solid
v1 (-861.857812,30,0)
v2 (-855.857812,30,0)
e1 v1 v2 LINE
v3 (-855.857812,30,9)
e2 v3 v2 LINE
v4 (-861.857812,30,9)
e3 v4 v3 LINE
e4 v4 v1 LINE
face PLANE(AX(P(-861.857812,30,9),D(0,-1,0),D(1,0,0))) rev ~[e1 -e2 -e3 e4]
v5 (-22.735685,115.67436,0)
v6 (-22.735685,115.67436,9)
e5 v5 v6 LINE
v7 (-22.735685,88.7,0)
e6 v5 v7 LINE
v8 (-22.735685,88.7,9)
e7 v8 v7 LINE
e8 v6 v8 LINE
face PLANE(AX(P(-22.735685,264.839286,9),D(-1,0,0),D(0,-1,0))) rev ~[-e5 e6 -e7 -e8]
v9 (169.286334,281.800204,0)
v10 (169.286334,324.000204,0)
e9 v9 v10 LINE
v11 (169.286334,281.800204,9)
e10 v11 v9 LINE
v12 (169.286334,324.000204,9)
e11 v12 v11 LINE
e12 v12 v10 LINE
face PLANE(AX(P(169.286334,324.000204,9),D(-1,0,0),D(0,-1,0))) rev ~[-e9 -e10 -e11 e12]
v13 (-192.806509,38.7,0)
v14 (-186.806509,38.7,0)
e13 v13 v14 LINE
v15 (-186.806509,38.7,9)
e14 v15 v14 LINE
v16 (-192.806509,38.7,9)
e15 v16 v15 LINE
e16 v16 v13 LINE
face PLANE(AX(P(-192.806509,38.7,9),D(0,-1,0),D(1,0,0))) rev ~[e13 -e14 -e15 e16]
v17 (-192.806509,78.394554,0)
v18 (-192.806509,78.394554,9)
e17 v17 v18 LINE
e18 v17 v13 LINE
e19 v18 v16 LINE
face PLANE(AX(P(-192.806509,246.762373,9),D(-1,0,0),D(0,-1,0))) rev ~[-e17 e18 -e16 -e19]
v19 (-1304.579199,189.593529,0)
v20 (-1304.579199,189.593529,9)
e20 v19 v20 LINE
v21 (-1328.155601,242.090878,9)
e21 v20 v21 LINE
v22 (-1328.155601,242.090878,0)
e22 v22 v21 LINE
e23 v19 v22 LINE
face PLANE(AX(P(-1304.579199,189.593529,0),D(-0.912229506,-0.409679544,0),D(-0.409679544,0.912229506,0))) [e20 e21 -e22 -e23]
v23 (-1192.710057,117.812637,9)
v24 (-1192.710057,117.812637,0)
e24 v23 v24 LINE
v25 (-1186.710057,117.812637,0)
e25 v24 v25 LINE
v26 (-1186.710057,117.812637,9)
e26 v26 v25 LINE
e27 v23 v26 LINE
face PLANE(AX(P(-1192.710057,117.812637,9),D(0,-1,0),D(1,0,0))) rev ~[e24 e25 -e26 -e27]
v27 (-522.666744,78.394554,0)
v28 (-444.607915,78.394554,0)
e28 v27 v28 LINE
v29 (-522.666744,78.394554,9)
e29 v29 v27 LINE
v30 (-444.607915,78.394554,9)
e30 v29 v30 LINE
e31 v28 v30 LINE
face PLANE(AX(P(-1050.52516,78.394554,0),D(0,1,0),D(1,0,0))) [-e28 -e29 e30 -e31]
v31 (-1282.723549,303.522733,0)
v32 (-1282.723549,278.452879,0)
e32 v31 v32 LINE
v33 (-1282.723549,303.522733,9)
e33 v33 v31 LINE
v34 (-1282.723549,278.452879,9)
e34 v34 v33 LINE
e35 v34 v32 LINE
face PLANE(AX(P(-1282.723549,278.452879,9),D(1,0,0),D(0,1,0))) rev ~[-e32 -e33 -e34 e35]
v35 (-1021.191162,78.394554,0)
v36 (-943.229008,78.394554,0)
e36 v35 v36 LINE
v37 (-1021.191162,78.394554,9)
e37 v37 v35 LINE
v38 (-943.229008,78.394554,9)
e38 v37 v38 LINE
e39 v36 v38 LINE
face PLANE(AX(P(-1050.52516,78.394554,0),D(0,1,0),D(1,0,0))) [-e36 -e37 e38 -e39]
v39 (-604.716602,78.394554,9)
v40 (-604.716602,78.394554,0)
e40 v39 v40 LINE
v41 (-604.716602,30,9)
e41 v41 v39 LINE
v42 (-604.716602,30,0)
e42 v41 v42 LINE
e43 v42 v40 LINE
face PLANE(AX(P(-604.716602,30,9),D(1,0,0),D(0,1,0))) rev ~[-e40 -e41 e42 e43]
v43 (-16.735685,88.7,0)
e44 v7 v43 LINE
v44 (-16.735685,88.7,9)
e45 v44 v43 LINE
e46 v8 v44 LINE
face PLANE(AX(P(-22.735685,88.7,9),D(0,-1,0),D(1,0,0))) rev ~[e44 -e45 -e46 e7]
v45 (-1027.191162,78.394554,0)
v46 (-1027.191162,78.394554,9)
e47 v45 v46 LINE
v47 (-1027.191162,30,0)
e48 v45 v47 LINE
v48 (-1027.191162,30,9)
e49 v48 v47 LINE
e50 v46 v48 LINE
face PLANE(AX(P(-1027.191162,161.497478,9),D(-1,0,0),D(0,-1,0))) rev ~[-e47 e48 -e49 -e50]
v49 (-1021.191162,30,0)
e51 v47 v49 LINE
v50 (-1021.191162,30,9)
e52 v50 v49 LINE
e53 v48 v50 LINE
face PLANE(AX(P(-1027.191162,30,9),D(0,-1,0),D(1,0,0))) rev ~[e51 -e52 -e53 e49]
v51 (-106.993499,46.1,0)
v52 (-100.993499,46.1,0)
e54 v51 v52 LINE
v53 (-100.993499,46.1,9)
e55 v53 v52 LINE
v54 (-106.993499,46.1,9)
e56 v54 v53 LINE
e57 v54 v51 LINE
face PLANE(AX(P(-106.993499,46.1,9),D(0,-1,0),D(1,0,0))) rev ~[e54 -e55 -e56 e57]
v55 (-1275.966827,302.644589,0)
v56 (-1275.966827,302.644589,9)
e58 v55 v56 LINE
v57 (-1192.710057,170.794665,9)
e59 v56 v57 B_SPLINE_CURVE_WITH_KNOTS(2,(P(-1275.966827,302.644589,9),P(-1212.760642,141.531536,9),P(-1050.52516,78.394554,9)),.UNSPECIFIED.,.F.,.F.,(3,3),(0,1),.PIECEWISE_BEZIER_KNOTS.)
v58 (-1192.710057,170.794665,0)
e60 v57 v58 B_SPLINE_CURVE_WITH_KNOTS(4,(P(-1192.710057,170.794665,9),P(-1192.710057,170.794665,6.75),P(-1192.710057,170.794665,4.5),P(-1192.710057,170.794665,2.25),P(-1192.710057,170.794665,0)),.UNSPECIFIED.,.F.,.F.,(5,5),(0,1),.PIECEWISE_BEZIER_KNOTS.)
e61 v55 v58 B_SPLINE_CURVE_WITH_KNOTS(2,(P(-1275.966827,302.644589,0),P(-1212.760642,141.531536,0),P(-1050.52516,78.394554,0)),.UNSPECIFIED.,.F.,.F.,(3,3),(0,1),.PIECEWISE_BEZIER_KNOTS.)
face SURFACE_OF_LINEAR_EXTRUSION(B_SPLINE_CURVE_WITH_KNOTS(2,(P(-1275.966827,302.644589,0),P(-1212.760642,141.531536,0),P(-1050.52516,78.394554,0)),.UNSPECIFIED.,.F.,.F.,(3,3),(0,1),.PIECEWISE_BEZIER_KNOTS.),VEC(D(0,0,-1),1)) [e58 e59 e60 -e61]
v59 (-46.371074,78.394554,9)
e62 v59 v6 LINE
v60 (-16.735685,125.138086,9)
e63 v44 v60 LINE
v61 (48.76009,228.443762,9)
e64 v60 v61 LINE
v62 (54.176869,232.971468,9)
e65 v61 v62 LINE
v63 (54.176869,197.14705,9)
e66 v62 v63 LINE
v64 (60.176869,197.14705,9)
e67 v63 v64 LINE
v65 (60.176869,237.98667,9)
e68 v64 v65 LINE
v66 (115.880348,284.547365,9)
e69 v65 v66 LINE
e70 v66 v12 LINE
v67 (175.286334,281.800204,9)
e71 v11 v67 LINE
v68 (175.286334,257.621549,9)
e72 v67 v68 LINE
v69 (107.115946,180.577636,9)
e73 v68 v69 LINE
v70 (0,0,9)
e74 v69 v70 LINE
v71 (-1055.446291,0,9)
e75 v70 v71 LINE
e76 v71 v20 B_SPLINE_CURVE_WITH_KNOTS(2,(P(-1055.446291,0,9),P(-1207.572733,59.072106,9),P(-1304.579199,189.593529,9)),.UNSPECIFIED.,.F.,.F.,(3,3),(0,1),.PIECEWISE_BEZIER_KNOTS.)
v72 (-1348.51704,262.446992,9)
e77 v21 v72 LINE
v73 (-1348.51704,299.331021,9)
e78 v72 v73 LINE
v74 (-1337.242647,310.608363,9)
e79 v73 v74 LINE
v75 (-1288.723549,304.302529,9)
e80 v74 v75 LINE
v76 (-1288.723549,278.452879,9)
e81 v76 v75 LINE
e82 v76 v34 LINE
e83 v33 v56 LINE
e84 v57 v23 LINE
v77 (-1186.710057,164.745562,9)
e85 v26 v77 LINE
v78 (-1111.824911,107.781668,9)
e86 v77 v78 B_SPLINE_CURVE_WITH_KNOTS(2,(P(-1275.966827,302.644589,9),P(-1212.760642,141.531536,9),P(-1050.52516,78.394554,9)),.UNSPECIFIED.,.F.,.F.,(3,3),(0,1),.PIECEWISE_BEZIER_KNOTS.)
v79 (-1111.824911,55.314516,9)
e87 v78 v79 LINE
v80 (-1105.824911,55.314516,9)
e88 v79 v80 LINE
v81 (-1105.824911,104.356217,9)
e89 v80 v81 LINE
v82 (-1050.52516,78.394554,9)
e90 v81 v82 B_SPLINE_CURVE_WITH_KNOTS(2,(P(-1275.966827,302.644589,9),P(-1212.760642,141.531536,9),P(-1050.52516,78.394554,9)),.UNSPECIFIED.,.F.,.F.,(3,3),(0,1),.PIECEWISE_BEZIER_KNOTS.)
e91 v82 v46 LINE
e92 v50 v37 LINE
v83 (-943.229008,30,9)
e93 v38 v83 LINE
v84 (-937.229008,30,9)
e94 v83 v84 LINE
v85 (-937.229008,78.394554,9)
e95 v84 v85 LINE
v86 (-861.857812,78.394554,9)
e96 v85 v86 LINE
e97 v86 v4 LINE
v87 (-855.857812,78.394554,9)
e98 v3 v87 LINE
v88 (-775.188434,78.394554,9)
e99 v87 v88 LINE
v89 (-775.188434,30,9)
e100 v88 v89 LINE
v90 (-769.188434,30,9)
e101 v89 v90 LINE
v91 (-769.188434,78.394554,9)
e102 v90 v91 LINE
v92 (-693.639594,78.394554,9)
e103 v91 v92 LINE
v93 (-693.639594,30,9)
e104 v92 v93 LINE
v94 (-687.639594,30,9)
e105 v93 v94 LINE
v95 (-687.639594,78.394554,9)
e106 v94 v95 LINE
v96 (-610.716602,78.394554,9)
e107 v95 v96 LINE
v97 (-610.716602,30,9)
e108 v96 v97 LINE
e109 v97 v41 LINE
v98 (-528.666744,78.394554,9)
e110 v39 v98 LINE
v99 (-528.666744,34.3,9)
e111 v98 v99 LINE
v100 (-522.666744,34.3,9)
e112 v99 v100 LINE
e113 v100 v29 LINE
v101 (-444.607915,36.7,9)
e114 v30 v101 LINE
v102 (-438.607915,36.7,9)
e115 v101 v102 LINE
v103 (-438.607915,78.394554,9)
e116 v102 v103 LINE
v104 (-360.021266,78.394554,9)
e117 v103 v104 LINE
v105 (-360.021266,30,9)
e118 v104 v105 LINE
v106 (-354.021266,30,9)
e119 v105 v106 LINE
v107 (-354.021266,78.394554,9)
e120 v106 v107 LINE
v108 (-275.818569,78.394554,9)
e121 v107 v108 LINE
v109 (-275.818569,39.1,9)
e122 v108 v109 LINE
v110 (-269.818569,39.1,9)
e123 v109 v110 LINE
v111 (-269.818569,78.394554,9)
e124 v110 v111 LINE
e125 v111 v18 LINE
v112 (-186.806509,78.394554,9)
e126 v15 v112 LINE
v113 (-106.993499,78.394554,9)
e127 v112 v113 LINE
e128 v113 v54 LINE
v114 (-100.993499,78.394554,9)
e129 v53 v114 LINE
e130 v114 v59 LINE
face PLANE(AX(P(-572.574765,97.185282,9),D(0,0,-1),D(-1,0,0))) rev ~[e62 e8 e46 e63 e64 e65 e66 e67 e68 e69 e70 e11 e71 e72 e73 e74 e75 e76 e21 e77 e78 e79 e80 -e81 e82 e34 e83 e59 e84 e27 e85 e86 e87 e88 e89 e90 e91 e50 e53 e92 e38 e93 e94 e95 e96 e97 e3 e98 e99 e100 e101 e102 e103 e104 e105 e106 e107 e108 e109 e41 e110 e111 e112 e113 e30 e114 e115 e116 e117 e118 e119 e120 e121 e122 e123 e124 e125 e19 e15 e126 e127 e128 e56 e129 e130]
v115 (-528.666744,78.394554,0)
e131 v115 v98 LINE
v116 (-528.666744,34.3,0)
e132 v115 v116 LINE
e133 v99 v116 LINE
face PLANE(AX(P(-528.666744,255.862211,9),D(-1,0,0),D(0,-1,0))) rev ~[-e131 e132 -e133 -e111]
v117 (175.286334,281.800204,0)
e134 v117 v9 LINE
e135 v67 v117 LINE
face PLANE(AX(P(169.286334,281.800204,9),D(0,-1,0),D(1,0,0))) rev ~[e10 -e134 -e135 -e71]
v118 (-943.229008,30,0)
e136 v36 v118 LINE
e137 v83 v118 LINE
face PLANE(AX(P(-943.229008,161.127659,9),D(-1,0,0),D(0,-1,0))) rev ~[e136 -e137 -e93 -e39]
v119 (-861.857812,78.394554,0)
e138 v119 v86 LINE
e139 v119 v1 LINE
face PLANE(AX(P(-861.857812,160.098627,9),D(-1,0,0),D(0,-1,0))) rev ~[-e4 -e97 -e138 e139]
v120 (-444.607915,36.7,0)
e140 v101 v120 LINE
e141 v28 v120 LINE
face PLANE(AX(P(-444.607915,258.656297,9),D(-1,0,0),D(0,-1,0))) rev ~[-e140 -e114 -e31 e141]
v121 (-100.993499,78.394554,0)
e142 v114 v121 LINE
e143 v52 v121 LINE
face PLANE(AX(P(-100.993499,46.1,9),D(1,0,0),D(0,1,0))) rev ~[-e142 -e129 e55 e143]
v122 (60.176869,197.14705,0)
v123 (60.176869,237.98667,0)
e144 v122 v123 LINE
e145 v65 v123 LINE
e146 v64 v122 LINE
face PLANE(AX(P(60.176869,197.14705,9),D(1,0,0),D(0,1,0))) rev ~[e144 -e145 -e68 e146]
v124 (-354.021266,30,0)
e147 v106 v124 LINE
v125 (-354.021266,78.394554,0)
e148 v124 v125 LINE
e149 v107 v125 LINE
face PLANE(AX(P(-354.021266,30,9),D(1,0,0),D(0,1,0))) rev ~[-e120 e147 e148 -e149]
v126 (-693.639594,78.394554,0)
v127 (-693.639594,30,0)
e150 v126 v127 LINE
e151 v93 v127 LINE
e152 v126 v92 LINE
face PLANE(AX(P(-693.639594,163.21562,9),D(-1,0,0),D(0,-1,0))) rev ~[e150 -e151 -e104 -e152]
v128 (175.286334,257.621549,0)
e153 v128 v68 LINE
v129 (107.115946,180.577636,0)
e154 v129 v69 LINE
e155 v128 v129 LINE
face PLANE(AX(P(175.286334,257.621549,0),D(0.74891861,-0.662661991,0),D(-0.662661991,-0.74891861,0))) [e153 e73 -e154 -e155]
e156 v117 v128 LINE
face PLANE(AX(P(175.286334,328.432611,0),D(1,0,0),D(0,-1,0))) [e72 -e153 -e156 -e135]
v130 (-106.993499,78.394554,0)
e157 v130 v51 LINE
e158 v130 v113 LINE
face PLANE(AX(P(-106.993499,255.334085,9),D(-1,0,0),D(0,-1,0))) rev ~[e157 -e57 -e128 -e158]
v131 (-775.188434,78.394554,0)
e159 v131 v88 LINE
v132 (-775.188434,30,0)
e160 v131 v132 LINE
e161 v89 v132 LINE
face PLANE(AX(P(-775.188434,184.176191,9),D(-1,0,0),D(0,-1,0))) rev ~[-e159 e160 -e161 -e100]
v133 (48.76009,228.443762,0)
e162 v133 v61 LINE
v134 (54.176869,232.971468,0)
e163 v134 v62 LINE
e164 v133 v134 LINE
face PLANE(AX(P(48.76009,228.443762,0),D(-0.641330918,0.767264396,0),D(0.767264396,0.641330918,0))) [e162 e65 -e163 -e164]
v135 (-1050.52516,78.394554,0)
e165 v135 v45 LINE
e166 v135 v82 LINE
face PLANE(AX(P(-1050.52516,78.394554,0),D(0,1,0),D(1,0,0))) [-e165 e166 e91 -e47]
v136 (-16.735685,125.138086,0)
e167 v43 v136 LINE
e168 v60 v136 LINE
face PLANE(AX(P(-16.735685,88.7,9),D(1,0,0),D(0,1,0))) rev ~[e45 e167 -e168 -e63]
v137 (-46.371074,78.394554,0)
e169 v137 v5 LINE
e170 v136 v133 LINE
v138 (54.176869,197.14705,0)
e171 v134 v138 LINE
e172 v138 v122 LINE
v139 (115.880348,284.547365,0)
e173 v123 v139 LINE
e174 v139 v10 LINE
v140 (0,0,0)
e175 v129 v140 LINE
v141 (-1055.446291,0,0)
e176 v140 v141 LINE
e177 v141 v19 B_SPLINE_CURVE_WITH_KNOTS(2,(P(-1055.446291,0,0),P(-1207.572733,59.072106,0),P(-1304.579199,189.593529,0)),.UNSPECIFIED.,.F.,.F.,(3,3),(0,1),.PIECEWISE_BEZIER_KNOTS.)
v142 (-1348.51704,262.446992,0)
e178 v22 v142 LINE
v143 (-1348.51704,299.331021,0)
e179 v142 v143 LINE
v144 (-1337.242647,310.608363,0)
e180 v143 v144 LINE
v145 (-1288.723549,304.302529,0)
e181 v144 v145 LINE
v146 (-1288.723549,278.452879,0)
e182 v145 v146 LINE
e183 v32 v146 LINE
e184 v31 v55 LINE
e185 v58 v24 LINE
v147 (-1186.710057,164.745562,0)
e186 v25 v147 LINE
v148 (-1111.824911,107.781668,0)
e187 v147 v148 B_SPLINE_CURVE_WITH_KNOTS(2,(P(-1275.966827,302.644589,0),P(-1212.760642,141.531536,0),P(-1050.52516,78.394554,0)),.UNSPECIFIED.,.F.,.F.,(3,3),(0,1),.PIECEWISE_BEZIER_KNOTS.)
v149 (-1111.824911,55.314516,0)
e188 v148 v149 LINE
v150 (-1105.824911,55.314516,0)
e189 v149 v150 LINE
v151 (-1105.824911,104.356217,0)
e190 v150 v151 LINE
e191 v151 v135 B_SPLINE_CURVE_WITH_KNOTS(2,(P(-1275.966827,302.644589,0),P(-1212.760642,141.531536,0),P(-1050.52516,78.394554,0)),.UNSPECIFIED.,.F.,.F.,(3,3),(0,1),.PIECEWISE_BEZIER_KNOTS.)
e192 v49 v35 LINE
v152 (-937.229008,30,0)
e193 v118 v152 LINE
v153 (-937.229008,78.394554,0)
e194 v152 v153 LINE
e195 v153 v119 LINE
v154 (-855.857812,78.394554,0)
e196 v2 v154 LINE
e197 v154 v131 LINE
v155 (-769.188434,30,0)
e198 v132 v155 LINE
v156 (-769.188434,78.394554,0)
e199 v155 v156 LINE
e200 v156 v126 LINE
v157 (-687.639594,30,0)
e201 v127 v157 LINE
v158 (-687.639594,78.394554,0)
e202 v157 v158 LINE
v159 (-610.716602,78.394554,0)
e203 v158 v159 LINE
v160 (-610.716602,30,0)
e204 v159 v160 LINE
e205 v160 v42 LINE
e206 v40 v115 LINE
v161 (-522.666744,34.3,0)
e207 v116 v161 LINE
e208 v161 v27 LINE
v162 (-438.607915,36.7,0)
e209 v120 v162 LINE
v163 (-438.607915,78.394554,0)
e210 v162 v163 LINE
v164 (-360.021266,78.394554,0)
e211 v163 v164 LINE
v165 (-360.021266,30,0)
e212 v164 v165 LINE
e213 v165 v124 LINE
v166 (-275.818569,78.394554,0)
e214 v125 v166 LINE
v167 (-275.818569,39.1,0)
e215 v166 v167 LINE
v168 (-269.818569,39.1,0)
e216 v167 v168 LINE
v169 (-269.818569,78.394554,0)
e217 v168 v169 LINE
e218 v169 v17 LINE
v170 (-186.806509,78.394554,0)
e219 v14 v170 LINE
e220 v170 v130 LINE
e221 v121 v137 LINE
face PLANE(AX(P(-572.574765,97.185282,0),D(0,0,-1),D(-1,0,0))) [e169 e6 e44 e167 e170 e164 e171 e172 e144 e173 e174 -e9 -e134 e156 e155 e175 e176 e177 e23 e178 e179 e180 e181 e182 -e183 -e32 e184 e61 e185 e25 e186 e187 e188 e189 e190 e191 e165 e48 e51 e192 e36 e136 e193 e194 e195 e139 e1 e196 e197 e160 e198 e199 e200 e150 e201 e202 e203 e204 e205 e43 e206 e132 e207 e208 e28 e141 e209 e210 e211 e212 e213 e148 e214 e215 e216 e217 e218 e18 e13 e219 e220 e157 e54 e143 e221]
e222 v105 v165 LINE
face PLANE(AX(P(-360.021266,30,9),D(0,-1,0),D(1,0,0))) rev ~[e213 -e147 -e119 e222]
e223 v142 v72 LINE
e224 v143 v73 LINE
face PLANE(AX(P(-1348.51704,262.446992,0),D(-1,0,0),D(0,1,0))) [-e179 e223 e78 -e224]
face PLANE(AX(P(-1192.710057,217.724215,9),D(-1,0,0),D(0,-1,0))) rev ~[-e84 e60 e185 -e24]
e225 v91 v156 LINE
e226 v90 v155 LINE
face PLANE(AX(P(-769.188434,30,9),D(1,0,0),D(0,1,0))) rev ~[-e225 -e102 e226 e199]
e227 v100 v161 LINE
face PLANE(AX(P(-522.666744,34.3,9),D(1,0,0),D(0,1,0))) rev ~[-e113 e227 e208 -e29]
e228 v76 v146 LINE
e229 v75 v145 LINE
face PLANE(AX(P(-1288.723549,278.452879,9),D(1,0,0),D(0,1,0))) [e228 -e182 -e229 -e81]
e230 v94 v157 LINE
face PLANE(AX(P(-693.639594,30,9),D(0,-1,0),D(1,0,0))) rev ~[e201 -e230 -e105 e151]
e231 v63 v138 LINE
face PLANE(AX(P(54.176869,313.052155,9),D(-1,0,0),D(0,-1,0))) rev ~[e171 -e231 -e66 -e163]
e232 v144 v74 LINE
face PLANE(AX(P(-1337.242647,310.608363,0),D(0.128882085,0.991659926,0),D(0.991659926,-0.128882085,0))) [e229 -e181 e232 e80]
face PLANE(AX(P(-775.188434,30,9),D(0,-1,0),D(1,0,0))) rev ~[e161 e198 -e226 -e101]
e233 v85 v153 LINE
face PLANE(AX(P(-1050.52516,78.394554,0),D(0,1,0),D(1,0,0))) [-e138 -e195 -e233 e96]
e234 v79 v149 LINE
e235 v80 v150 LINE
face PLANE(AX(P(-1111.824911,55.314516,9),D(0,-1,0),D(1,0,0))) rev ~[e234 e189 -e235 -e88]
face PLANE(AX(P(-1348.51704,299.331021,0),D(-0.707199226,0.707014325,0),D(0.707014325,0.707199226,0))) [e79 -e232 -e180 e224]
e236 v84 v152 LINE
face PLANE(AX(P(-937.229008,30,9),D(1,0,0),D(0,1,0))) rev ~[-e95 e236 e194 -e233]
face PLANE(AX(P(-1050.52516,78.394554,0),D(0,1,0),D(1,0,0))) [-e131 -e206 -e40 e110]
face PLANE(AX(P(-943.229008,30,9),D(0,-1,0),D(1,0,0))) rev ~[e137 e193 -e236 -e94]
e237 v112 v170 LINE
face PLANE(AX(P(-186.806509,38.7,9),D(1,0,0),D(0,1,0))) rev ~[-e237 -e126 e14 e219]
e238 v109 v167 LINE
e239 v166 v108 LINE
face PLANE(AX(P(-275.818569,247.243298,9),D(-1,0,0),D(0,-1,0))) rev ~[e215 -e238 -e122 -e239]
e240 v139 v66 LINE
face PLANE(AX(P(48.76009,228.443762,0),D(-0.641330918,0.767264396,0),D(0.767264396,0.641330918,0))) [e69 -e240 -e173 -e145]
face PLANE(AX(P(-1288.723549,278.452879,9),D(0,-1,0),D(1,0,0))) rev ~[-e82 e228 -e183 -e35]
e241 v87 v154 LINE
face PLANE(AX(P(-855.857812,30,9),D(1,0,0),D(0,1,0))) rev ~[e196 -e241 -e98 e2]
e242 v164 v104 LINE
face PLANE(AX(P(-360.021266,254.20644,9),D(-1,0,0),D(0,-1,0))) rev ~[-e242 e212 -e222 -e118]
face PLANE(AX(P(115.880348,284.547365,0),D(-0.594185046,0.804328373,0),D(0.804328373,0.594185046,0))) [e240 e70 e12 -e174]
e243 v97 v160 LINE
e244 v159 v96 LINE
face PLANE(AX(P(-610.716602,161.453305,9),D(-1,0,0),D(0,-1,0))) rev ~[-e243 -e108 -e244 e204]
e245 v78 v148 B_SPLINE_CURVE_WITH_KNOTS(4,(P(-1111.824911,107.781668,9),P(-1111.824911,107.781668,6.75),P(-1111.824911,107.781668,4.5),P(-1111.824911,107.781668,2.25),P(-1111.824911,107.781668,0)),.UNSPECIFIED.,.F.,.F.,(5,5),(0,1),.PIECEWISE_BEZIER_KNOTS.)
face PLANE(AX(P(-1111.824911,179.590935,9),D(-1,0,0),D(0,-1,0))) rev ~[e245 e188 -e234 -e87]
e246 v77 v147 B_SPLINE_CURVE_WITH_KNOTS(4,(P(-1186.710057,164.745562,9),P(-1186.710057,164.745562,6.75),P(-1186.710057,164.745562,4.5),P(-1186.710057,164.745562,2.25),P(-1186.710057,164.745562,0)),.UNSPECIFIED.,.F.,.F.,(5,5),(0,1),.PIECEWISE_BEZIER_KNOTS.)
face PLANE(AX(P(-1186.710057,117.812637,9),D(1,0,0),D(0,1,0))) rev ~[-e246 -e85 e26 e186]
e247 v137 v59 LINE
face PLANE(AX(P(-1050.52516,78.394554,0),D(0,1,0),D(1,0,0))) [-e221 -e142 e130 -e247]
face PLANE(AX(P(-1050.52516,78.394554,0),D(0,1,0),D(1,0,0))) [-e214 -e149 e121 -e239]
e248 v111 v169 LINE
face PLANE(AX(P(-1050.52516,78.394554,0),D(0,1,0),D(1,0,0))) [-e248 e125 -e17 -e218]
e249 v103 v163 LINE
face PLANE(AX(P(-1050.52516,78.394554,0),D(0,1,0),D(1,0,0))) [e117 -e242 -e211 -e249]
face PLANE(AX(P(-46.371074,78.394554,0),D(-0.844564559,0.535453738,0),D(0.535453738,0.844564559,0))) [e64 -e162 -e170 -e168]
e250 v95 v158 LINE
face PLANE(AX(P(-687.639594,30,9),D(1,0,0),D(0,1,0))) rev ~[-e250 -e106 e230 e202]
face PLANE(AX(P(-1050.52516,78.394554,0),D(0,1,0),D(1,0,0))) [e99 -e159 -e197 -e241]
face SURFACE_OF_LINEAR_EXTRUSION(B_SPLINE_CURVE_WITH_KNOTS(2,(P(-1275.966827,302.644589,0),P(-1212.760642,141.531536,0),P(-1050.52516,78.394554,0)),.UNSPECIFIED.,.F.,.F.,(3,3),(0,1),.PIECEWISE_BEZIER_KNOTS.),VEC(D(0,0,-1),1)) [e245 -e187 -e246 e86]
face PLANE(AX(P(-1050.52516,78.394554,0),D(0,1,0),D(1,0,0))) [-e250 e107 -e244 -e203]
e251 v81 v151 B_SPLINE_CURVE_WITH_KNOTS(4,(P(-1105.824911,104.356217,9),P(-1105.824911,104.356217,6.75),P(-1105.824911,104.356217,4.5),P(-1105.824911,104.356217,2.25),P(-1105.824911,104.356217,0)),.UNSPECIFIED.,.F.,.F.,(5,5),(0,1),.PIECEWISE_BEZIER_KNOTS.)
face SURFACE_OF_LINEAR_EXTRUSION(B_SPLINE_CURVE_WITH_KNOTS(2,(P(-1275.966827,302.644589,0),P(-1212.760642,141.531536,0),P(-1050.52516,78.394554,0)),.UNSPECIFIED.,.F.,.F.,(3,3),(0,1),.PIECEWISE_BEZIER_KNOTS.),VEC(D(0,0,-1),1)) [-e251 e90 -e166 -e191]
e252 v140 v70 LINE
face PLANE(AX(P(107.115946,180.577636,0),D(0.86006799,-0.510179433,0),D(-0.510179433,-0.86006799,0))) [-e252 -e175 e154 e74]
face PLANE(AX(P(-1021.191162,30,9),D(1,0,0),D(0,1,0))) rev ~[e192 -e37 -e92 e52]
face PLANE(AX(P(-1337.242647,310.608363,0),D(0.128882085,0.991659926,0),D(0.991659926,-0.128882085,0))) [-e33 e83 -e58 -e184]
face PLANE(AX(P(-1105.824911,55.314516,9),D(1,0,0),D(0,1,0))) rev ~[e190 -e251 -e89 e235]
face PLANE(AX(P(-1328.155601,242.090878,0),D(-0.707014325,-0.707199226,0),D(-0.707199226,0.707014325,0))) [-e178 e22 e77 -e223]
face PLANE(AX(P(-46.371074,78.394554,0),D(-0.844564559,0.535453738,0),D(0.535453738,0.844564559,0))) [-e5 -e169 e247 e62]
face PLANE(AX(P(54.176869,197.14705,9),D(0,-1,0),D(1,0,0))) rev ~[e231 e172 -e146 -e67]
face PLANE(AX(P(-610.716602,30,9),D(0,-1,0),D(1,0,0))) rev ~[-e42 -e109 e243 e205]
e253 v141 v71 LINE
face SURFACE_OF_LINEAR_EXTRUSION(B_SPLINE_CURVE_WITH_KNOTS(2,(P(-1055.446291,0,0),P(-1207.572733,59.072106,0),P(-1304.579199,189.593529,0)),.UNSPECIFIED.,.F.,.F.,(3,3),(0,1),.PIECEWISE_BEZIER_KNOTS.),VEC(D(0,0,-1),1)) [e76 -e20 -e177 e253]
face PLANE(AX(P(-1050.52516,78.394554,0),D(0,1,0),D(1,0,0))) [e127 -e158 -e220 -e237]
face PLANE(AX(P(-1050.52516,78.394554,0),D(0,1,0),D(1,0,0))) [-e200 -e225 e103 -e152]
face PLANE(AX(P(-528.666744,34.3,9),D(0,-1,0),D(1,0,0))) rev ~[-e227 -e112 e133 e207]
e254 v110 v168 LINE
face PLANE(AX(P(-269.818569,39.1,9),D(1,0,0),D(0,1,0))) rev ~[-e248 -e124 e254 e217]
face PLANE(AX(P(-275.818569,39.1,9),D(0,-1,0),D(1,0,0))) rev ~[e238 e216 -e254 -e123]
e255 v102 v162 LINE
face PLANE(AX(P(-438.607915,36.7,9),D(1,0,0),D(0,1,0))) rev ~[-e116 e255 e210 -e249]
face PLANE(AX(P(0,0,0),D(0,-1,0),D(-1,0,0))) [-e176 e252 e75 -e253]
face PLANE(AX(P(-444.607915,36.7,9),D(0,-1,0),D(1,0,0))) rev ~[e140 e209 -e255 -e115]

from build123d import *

# Parameters (mm, degrees)
BOSS_EXTRU_2_DEPTH      = 9
ENL_V_MAT_EXTRU_2_DEPTH = 9
ESQUISSE5_W             = 6
ESQUISSE5_H             = 25.84965
ENL_V_MAT_EXTRU_3_DEPTH = 10


with BuildPart() as part:
    # Esquisse2 → Boss.-Extru.2 (new body)
    with BuildSketch(Plane.XY):
        with BuildLine():
            Line((0, 0), (-1055.446290734, 0))
            add(Edge.make_bspline(
                [(-1055.446290734, 0), (-1207.572733387, 59.072106031), (-1304.579199027, 189.593529265)],
                knots=[0, 0, 0, 1, 1, 1], degree=2))
            Line((-1304.579199027, 189.593529265), (-1328.155601237, 242.090877604))
            Line((-1328.155601237, 242.090877604), (-1348.517039509, 262.446992266))
            Line((-1348.517039509, 262.446992266), (-1348.517039509, 299.331021292))
            Line((-1348.517039509, 299.331021292), (-1337.24264668, 310.608362644))
            Line((-1337.24264668, 310.608362644), (-1275.966827179, 302.644588826))
            add(Edge.make_bspline(
                [(-1275.966827179, 302.644588826), (-1212.760641583, 141.531535954), (-1050.525159664, 78.394553502)],
                knots=[0, 0, 0, 1, 1, 1], degree=2))
            Line((-1050.525159664, 78.394553502), (-46.371074076, 78.394553502))
            Line((-46.371074076, 78.394553502), (48.76008987, 228.44376205))
            Line((48.76008987, 228.44376205), (115.880348206, 284.547364773))
            Line((115.880348206, 284.547364773), (175.286334456, 328.432610938))
            Line((175.286334456, 328.432610938), (175.286334456, 257.621549377))
            Line((175.286334456, 257.621549377), (107.11594567, 180.577636332))
            Line((107.11594567, 180.577636332), (0, 0))
        make_face()
    extrude(amount=BOSS_EXTRU_2_DEPTH)

    # Esquisse4 → Enlèv. mat.-Extru.2 (cut)
    with BuildSketch(Plane.XY.offset(9)):
        Polygon((-1192.710056644, 217.724215408), (-1192.710056644, 117.812636738), (-1186.710056644, 117.812636738), (-1186.710056644, 209.090265158), (-1144.70133954, 205.492785887), (-1111.824911273, 179.590935136), (-1111.824911273, 55.314515649), (-1105.824911273, 55.314515649), (-1105.824911273, 174.913937406), (-1058.771084869, 188.659470271), (-1027.191161845, 161.497477767), (-1027.191161845, 30), (-1021.191161845, 30), (-1021.191161845, 167.225098507), (-976.159938867, 174.429619005), (-943.229008237, 161.127659365), (-943.229008237, 30), (-937.229008237, 30), (-937.229008237, 164.093815562), (-899.191490776, 172.001101596), (-861.857811784, 160.098627493), (-861.857811784, 30), (-855.857811784, 30), (-855.857811784, 196.236545153), (-815.986169177, 204.901610664), (-775.188433973, 184.176190605), (-775.188433973, 30), (-769.188433973, 30), (-769.188433973, 176.450577912), (-732.223715867, 183.004336583), (-693.639593808, 163.215620457), (-693.639593808, 30), (-687.639593808, 30), (-687.639593808, 172.485228345), (-653.152535866, 182.871939208), (-610.716601792, 161.453305285), (-610.716601792, 30), (-604.716601792, 30), (-604.716601792, 256.125318922), (-551.321272632, 268.910222611), (-528.666744333, 255.862211449), (-528.666744333, 34.3), (-522.666744333, 34.3), (-522.666744333, 255.102102604), (-476.392141731, 269.107524931), (-444.607914754, 258.656296952), (-444.607914754, 36.7), (-438.607914754, 36.7), (-438.607914754, 253.443093933), (-391.056155042, 266.894918017), (-360.02126631, 254.206439852), (-360.02126631, 30), (-354.02126631, 30), (-354.02126631, 250.104032237), (-303.804875297, 262.547483763), (-275.81856885, 247.243298089), (-275.81856885, 39.1), (-269.81856885, 39.1), (-269.81856885, 230.071554094), (-217.437093626, 257.378680484), (-192.806508582, 246.762372601), (-192.806508582, 38.7), (-186.806508582, 38.7), (-186.806508582, 245.622867868), (-134.999273909, 264.79720393), (-106.993498927, 255.334085011), (-106.993498927, 46.1), (-100.993498927, 46.1), (-100.993498927, 258.655280604), (-22.735685337, 264.839286488), (-22.735685337, 88.7), (-16.735685337, 88.7), (-16.735685337, 231.395876397), (-1.733463181, 266.202092714), (54.176868866, 313.052154508), (54.176868866, 197.147050424), (60.176868866, 197.147050424), (60.176868866, 330.337520125), (-1075.947973634, 334.662873451), align=None)
    extrude(amount=-ENL_V_MAT_EXTRU_2_DEPTH, mode=Mode.SUBTRACT)

    # Esquisse5 → Enlèv. mat.-Extru.3 (cut)
    with BuildSketch(Plane.XY.offset(9)):
        Polygon((169.286334456, 324.000204482), (169.286334456, 281.800204482), (175.286334456, 281.800204482), (202.680394495, 285.052171219), (208.588297758, 339.079823363), (181.275473189, 338.718158681), align=None)
        with Locations((-1285.723549311, 291.377704112)):
            Rectangle(ESQUISSE5_W, ESQUISSE5_H)
    extrude(amount=-ENL_V_MAT_EXTRU_3_DEPTH, mode=Mode.SUBTRACT)


solid = part.part
